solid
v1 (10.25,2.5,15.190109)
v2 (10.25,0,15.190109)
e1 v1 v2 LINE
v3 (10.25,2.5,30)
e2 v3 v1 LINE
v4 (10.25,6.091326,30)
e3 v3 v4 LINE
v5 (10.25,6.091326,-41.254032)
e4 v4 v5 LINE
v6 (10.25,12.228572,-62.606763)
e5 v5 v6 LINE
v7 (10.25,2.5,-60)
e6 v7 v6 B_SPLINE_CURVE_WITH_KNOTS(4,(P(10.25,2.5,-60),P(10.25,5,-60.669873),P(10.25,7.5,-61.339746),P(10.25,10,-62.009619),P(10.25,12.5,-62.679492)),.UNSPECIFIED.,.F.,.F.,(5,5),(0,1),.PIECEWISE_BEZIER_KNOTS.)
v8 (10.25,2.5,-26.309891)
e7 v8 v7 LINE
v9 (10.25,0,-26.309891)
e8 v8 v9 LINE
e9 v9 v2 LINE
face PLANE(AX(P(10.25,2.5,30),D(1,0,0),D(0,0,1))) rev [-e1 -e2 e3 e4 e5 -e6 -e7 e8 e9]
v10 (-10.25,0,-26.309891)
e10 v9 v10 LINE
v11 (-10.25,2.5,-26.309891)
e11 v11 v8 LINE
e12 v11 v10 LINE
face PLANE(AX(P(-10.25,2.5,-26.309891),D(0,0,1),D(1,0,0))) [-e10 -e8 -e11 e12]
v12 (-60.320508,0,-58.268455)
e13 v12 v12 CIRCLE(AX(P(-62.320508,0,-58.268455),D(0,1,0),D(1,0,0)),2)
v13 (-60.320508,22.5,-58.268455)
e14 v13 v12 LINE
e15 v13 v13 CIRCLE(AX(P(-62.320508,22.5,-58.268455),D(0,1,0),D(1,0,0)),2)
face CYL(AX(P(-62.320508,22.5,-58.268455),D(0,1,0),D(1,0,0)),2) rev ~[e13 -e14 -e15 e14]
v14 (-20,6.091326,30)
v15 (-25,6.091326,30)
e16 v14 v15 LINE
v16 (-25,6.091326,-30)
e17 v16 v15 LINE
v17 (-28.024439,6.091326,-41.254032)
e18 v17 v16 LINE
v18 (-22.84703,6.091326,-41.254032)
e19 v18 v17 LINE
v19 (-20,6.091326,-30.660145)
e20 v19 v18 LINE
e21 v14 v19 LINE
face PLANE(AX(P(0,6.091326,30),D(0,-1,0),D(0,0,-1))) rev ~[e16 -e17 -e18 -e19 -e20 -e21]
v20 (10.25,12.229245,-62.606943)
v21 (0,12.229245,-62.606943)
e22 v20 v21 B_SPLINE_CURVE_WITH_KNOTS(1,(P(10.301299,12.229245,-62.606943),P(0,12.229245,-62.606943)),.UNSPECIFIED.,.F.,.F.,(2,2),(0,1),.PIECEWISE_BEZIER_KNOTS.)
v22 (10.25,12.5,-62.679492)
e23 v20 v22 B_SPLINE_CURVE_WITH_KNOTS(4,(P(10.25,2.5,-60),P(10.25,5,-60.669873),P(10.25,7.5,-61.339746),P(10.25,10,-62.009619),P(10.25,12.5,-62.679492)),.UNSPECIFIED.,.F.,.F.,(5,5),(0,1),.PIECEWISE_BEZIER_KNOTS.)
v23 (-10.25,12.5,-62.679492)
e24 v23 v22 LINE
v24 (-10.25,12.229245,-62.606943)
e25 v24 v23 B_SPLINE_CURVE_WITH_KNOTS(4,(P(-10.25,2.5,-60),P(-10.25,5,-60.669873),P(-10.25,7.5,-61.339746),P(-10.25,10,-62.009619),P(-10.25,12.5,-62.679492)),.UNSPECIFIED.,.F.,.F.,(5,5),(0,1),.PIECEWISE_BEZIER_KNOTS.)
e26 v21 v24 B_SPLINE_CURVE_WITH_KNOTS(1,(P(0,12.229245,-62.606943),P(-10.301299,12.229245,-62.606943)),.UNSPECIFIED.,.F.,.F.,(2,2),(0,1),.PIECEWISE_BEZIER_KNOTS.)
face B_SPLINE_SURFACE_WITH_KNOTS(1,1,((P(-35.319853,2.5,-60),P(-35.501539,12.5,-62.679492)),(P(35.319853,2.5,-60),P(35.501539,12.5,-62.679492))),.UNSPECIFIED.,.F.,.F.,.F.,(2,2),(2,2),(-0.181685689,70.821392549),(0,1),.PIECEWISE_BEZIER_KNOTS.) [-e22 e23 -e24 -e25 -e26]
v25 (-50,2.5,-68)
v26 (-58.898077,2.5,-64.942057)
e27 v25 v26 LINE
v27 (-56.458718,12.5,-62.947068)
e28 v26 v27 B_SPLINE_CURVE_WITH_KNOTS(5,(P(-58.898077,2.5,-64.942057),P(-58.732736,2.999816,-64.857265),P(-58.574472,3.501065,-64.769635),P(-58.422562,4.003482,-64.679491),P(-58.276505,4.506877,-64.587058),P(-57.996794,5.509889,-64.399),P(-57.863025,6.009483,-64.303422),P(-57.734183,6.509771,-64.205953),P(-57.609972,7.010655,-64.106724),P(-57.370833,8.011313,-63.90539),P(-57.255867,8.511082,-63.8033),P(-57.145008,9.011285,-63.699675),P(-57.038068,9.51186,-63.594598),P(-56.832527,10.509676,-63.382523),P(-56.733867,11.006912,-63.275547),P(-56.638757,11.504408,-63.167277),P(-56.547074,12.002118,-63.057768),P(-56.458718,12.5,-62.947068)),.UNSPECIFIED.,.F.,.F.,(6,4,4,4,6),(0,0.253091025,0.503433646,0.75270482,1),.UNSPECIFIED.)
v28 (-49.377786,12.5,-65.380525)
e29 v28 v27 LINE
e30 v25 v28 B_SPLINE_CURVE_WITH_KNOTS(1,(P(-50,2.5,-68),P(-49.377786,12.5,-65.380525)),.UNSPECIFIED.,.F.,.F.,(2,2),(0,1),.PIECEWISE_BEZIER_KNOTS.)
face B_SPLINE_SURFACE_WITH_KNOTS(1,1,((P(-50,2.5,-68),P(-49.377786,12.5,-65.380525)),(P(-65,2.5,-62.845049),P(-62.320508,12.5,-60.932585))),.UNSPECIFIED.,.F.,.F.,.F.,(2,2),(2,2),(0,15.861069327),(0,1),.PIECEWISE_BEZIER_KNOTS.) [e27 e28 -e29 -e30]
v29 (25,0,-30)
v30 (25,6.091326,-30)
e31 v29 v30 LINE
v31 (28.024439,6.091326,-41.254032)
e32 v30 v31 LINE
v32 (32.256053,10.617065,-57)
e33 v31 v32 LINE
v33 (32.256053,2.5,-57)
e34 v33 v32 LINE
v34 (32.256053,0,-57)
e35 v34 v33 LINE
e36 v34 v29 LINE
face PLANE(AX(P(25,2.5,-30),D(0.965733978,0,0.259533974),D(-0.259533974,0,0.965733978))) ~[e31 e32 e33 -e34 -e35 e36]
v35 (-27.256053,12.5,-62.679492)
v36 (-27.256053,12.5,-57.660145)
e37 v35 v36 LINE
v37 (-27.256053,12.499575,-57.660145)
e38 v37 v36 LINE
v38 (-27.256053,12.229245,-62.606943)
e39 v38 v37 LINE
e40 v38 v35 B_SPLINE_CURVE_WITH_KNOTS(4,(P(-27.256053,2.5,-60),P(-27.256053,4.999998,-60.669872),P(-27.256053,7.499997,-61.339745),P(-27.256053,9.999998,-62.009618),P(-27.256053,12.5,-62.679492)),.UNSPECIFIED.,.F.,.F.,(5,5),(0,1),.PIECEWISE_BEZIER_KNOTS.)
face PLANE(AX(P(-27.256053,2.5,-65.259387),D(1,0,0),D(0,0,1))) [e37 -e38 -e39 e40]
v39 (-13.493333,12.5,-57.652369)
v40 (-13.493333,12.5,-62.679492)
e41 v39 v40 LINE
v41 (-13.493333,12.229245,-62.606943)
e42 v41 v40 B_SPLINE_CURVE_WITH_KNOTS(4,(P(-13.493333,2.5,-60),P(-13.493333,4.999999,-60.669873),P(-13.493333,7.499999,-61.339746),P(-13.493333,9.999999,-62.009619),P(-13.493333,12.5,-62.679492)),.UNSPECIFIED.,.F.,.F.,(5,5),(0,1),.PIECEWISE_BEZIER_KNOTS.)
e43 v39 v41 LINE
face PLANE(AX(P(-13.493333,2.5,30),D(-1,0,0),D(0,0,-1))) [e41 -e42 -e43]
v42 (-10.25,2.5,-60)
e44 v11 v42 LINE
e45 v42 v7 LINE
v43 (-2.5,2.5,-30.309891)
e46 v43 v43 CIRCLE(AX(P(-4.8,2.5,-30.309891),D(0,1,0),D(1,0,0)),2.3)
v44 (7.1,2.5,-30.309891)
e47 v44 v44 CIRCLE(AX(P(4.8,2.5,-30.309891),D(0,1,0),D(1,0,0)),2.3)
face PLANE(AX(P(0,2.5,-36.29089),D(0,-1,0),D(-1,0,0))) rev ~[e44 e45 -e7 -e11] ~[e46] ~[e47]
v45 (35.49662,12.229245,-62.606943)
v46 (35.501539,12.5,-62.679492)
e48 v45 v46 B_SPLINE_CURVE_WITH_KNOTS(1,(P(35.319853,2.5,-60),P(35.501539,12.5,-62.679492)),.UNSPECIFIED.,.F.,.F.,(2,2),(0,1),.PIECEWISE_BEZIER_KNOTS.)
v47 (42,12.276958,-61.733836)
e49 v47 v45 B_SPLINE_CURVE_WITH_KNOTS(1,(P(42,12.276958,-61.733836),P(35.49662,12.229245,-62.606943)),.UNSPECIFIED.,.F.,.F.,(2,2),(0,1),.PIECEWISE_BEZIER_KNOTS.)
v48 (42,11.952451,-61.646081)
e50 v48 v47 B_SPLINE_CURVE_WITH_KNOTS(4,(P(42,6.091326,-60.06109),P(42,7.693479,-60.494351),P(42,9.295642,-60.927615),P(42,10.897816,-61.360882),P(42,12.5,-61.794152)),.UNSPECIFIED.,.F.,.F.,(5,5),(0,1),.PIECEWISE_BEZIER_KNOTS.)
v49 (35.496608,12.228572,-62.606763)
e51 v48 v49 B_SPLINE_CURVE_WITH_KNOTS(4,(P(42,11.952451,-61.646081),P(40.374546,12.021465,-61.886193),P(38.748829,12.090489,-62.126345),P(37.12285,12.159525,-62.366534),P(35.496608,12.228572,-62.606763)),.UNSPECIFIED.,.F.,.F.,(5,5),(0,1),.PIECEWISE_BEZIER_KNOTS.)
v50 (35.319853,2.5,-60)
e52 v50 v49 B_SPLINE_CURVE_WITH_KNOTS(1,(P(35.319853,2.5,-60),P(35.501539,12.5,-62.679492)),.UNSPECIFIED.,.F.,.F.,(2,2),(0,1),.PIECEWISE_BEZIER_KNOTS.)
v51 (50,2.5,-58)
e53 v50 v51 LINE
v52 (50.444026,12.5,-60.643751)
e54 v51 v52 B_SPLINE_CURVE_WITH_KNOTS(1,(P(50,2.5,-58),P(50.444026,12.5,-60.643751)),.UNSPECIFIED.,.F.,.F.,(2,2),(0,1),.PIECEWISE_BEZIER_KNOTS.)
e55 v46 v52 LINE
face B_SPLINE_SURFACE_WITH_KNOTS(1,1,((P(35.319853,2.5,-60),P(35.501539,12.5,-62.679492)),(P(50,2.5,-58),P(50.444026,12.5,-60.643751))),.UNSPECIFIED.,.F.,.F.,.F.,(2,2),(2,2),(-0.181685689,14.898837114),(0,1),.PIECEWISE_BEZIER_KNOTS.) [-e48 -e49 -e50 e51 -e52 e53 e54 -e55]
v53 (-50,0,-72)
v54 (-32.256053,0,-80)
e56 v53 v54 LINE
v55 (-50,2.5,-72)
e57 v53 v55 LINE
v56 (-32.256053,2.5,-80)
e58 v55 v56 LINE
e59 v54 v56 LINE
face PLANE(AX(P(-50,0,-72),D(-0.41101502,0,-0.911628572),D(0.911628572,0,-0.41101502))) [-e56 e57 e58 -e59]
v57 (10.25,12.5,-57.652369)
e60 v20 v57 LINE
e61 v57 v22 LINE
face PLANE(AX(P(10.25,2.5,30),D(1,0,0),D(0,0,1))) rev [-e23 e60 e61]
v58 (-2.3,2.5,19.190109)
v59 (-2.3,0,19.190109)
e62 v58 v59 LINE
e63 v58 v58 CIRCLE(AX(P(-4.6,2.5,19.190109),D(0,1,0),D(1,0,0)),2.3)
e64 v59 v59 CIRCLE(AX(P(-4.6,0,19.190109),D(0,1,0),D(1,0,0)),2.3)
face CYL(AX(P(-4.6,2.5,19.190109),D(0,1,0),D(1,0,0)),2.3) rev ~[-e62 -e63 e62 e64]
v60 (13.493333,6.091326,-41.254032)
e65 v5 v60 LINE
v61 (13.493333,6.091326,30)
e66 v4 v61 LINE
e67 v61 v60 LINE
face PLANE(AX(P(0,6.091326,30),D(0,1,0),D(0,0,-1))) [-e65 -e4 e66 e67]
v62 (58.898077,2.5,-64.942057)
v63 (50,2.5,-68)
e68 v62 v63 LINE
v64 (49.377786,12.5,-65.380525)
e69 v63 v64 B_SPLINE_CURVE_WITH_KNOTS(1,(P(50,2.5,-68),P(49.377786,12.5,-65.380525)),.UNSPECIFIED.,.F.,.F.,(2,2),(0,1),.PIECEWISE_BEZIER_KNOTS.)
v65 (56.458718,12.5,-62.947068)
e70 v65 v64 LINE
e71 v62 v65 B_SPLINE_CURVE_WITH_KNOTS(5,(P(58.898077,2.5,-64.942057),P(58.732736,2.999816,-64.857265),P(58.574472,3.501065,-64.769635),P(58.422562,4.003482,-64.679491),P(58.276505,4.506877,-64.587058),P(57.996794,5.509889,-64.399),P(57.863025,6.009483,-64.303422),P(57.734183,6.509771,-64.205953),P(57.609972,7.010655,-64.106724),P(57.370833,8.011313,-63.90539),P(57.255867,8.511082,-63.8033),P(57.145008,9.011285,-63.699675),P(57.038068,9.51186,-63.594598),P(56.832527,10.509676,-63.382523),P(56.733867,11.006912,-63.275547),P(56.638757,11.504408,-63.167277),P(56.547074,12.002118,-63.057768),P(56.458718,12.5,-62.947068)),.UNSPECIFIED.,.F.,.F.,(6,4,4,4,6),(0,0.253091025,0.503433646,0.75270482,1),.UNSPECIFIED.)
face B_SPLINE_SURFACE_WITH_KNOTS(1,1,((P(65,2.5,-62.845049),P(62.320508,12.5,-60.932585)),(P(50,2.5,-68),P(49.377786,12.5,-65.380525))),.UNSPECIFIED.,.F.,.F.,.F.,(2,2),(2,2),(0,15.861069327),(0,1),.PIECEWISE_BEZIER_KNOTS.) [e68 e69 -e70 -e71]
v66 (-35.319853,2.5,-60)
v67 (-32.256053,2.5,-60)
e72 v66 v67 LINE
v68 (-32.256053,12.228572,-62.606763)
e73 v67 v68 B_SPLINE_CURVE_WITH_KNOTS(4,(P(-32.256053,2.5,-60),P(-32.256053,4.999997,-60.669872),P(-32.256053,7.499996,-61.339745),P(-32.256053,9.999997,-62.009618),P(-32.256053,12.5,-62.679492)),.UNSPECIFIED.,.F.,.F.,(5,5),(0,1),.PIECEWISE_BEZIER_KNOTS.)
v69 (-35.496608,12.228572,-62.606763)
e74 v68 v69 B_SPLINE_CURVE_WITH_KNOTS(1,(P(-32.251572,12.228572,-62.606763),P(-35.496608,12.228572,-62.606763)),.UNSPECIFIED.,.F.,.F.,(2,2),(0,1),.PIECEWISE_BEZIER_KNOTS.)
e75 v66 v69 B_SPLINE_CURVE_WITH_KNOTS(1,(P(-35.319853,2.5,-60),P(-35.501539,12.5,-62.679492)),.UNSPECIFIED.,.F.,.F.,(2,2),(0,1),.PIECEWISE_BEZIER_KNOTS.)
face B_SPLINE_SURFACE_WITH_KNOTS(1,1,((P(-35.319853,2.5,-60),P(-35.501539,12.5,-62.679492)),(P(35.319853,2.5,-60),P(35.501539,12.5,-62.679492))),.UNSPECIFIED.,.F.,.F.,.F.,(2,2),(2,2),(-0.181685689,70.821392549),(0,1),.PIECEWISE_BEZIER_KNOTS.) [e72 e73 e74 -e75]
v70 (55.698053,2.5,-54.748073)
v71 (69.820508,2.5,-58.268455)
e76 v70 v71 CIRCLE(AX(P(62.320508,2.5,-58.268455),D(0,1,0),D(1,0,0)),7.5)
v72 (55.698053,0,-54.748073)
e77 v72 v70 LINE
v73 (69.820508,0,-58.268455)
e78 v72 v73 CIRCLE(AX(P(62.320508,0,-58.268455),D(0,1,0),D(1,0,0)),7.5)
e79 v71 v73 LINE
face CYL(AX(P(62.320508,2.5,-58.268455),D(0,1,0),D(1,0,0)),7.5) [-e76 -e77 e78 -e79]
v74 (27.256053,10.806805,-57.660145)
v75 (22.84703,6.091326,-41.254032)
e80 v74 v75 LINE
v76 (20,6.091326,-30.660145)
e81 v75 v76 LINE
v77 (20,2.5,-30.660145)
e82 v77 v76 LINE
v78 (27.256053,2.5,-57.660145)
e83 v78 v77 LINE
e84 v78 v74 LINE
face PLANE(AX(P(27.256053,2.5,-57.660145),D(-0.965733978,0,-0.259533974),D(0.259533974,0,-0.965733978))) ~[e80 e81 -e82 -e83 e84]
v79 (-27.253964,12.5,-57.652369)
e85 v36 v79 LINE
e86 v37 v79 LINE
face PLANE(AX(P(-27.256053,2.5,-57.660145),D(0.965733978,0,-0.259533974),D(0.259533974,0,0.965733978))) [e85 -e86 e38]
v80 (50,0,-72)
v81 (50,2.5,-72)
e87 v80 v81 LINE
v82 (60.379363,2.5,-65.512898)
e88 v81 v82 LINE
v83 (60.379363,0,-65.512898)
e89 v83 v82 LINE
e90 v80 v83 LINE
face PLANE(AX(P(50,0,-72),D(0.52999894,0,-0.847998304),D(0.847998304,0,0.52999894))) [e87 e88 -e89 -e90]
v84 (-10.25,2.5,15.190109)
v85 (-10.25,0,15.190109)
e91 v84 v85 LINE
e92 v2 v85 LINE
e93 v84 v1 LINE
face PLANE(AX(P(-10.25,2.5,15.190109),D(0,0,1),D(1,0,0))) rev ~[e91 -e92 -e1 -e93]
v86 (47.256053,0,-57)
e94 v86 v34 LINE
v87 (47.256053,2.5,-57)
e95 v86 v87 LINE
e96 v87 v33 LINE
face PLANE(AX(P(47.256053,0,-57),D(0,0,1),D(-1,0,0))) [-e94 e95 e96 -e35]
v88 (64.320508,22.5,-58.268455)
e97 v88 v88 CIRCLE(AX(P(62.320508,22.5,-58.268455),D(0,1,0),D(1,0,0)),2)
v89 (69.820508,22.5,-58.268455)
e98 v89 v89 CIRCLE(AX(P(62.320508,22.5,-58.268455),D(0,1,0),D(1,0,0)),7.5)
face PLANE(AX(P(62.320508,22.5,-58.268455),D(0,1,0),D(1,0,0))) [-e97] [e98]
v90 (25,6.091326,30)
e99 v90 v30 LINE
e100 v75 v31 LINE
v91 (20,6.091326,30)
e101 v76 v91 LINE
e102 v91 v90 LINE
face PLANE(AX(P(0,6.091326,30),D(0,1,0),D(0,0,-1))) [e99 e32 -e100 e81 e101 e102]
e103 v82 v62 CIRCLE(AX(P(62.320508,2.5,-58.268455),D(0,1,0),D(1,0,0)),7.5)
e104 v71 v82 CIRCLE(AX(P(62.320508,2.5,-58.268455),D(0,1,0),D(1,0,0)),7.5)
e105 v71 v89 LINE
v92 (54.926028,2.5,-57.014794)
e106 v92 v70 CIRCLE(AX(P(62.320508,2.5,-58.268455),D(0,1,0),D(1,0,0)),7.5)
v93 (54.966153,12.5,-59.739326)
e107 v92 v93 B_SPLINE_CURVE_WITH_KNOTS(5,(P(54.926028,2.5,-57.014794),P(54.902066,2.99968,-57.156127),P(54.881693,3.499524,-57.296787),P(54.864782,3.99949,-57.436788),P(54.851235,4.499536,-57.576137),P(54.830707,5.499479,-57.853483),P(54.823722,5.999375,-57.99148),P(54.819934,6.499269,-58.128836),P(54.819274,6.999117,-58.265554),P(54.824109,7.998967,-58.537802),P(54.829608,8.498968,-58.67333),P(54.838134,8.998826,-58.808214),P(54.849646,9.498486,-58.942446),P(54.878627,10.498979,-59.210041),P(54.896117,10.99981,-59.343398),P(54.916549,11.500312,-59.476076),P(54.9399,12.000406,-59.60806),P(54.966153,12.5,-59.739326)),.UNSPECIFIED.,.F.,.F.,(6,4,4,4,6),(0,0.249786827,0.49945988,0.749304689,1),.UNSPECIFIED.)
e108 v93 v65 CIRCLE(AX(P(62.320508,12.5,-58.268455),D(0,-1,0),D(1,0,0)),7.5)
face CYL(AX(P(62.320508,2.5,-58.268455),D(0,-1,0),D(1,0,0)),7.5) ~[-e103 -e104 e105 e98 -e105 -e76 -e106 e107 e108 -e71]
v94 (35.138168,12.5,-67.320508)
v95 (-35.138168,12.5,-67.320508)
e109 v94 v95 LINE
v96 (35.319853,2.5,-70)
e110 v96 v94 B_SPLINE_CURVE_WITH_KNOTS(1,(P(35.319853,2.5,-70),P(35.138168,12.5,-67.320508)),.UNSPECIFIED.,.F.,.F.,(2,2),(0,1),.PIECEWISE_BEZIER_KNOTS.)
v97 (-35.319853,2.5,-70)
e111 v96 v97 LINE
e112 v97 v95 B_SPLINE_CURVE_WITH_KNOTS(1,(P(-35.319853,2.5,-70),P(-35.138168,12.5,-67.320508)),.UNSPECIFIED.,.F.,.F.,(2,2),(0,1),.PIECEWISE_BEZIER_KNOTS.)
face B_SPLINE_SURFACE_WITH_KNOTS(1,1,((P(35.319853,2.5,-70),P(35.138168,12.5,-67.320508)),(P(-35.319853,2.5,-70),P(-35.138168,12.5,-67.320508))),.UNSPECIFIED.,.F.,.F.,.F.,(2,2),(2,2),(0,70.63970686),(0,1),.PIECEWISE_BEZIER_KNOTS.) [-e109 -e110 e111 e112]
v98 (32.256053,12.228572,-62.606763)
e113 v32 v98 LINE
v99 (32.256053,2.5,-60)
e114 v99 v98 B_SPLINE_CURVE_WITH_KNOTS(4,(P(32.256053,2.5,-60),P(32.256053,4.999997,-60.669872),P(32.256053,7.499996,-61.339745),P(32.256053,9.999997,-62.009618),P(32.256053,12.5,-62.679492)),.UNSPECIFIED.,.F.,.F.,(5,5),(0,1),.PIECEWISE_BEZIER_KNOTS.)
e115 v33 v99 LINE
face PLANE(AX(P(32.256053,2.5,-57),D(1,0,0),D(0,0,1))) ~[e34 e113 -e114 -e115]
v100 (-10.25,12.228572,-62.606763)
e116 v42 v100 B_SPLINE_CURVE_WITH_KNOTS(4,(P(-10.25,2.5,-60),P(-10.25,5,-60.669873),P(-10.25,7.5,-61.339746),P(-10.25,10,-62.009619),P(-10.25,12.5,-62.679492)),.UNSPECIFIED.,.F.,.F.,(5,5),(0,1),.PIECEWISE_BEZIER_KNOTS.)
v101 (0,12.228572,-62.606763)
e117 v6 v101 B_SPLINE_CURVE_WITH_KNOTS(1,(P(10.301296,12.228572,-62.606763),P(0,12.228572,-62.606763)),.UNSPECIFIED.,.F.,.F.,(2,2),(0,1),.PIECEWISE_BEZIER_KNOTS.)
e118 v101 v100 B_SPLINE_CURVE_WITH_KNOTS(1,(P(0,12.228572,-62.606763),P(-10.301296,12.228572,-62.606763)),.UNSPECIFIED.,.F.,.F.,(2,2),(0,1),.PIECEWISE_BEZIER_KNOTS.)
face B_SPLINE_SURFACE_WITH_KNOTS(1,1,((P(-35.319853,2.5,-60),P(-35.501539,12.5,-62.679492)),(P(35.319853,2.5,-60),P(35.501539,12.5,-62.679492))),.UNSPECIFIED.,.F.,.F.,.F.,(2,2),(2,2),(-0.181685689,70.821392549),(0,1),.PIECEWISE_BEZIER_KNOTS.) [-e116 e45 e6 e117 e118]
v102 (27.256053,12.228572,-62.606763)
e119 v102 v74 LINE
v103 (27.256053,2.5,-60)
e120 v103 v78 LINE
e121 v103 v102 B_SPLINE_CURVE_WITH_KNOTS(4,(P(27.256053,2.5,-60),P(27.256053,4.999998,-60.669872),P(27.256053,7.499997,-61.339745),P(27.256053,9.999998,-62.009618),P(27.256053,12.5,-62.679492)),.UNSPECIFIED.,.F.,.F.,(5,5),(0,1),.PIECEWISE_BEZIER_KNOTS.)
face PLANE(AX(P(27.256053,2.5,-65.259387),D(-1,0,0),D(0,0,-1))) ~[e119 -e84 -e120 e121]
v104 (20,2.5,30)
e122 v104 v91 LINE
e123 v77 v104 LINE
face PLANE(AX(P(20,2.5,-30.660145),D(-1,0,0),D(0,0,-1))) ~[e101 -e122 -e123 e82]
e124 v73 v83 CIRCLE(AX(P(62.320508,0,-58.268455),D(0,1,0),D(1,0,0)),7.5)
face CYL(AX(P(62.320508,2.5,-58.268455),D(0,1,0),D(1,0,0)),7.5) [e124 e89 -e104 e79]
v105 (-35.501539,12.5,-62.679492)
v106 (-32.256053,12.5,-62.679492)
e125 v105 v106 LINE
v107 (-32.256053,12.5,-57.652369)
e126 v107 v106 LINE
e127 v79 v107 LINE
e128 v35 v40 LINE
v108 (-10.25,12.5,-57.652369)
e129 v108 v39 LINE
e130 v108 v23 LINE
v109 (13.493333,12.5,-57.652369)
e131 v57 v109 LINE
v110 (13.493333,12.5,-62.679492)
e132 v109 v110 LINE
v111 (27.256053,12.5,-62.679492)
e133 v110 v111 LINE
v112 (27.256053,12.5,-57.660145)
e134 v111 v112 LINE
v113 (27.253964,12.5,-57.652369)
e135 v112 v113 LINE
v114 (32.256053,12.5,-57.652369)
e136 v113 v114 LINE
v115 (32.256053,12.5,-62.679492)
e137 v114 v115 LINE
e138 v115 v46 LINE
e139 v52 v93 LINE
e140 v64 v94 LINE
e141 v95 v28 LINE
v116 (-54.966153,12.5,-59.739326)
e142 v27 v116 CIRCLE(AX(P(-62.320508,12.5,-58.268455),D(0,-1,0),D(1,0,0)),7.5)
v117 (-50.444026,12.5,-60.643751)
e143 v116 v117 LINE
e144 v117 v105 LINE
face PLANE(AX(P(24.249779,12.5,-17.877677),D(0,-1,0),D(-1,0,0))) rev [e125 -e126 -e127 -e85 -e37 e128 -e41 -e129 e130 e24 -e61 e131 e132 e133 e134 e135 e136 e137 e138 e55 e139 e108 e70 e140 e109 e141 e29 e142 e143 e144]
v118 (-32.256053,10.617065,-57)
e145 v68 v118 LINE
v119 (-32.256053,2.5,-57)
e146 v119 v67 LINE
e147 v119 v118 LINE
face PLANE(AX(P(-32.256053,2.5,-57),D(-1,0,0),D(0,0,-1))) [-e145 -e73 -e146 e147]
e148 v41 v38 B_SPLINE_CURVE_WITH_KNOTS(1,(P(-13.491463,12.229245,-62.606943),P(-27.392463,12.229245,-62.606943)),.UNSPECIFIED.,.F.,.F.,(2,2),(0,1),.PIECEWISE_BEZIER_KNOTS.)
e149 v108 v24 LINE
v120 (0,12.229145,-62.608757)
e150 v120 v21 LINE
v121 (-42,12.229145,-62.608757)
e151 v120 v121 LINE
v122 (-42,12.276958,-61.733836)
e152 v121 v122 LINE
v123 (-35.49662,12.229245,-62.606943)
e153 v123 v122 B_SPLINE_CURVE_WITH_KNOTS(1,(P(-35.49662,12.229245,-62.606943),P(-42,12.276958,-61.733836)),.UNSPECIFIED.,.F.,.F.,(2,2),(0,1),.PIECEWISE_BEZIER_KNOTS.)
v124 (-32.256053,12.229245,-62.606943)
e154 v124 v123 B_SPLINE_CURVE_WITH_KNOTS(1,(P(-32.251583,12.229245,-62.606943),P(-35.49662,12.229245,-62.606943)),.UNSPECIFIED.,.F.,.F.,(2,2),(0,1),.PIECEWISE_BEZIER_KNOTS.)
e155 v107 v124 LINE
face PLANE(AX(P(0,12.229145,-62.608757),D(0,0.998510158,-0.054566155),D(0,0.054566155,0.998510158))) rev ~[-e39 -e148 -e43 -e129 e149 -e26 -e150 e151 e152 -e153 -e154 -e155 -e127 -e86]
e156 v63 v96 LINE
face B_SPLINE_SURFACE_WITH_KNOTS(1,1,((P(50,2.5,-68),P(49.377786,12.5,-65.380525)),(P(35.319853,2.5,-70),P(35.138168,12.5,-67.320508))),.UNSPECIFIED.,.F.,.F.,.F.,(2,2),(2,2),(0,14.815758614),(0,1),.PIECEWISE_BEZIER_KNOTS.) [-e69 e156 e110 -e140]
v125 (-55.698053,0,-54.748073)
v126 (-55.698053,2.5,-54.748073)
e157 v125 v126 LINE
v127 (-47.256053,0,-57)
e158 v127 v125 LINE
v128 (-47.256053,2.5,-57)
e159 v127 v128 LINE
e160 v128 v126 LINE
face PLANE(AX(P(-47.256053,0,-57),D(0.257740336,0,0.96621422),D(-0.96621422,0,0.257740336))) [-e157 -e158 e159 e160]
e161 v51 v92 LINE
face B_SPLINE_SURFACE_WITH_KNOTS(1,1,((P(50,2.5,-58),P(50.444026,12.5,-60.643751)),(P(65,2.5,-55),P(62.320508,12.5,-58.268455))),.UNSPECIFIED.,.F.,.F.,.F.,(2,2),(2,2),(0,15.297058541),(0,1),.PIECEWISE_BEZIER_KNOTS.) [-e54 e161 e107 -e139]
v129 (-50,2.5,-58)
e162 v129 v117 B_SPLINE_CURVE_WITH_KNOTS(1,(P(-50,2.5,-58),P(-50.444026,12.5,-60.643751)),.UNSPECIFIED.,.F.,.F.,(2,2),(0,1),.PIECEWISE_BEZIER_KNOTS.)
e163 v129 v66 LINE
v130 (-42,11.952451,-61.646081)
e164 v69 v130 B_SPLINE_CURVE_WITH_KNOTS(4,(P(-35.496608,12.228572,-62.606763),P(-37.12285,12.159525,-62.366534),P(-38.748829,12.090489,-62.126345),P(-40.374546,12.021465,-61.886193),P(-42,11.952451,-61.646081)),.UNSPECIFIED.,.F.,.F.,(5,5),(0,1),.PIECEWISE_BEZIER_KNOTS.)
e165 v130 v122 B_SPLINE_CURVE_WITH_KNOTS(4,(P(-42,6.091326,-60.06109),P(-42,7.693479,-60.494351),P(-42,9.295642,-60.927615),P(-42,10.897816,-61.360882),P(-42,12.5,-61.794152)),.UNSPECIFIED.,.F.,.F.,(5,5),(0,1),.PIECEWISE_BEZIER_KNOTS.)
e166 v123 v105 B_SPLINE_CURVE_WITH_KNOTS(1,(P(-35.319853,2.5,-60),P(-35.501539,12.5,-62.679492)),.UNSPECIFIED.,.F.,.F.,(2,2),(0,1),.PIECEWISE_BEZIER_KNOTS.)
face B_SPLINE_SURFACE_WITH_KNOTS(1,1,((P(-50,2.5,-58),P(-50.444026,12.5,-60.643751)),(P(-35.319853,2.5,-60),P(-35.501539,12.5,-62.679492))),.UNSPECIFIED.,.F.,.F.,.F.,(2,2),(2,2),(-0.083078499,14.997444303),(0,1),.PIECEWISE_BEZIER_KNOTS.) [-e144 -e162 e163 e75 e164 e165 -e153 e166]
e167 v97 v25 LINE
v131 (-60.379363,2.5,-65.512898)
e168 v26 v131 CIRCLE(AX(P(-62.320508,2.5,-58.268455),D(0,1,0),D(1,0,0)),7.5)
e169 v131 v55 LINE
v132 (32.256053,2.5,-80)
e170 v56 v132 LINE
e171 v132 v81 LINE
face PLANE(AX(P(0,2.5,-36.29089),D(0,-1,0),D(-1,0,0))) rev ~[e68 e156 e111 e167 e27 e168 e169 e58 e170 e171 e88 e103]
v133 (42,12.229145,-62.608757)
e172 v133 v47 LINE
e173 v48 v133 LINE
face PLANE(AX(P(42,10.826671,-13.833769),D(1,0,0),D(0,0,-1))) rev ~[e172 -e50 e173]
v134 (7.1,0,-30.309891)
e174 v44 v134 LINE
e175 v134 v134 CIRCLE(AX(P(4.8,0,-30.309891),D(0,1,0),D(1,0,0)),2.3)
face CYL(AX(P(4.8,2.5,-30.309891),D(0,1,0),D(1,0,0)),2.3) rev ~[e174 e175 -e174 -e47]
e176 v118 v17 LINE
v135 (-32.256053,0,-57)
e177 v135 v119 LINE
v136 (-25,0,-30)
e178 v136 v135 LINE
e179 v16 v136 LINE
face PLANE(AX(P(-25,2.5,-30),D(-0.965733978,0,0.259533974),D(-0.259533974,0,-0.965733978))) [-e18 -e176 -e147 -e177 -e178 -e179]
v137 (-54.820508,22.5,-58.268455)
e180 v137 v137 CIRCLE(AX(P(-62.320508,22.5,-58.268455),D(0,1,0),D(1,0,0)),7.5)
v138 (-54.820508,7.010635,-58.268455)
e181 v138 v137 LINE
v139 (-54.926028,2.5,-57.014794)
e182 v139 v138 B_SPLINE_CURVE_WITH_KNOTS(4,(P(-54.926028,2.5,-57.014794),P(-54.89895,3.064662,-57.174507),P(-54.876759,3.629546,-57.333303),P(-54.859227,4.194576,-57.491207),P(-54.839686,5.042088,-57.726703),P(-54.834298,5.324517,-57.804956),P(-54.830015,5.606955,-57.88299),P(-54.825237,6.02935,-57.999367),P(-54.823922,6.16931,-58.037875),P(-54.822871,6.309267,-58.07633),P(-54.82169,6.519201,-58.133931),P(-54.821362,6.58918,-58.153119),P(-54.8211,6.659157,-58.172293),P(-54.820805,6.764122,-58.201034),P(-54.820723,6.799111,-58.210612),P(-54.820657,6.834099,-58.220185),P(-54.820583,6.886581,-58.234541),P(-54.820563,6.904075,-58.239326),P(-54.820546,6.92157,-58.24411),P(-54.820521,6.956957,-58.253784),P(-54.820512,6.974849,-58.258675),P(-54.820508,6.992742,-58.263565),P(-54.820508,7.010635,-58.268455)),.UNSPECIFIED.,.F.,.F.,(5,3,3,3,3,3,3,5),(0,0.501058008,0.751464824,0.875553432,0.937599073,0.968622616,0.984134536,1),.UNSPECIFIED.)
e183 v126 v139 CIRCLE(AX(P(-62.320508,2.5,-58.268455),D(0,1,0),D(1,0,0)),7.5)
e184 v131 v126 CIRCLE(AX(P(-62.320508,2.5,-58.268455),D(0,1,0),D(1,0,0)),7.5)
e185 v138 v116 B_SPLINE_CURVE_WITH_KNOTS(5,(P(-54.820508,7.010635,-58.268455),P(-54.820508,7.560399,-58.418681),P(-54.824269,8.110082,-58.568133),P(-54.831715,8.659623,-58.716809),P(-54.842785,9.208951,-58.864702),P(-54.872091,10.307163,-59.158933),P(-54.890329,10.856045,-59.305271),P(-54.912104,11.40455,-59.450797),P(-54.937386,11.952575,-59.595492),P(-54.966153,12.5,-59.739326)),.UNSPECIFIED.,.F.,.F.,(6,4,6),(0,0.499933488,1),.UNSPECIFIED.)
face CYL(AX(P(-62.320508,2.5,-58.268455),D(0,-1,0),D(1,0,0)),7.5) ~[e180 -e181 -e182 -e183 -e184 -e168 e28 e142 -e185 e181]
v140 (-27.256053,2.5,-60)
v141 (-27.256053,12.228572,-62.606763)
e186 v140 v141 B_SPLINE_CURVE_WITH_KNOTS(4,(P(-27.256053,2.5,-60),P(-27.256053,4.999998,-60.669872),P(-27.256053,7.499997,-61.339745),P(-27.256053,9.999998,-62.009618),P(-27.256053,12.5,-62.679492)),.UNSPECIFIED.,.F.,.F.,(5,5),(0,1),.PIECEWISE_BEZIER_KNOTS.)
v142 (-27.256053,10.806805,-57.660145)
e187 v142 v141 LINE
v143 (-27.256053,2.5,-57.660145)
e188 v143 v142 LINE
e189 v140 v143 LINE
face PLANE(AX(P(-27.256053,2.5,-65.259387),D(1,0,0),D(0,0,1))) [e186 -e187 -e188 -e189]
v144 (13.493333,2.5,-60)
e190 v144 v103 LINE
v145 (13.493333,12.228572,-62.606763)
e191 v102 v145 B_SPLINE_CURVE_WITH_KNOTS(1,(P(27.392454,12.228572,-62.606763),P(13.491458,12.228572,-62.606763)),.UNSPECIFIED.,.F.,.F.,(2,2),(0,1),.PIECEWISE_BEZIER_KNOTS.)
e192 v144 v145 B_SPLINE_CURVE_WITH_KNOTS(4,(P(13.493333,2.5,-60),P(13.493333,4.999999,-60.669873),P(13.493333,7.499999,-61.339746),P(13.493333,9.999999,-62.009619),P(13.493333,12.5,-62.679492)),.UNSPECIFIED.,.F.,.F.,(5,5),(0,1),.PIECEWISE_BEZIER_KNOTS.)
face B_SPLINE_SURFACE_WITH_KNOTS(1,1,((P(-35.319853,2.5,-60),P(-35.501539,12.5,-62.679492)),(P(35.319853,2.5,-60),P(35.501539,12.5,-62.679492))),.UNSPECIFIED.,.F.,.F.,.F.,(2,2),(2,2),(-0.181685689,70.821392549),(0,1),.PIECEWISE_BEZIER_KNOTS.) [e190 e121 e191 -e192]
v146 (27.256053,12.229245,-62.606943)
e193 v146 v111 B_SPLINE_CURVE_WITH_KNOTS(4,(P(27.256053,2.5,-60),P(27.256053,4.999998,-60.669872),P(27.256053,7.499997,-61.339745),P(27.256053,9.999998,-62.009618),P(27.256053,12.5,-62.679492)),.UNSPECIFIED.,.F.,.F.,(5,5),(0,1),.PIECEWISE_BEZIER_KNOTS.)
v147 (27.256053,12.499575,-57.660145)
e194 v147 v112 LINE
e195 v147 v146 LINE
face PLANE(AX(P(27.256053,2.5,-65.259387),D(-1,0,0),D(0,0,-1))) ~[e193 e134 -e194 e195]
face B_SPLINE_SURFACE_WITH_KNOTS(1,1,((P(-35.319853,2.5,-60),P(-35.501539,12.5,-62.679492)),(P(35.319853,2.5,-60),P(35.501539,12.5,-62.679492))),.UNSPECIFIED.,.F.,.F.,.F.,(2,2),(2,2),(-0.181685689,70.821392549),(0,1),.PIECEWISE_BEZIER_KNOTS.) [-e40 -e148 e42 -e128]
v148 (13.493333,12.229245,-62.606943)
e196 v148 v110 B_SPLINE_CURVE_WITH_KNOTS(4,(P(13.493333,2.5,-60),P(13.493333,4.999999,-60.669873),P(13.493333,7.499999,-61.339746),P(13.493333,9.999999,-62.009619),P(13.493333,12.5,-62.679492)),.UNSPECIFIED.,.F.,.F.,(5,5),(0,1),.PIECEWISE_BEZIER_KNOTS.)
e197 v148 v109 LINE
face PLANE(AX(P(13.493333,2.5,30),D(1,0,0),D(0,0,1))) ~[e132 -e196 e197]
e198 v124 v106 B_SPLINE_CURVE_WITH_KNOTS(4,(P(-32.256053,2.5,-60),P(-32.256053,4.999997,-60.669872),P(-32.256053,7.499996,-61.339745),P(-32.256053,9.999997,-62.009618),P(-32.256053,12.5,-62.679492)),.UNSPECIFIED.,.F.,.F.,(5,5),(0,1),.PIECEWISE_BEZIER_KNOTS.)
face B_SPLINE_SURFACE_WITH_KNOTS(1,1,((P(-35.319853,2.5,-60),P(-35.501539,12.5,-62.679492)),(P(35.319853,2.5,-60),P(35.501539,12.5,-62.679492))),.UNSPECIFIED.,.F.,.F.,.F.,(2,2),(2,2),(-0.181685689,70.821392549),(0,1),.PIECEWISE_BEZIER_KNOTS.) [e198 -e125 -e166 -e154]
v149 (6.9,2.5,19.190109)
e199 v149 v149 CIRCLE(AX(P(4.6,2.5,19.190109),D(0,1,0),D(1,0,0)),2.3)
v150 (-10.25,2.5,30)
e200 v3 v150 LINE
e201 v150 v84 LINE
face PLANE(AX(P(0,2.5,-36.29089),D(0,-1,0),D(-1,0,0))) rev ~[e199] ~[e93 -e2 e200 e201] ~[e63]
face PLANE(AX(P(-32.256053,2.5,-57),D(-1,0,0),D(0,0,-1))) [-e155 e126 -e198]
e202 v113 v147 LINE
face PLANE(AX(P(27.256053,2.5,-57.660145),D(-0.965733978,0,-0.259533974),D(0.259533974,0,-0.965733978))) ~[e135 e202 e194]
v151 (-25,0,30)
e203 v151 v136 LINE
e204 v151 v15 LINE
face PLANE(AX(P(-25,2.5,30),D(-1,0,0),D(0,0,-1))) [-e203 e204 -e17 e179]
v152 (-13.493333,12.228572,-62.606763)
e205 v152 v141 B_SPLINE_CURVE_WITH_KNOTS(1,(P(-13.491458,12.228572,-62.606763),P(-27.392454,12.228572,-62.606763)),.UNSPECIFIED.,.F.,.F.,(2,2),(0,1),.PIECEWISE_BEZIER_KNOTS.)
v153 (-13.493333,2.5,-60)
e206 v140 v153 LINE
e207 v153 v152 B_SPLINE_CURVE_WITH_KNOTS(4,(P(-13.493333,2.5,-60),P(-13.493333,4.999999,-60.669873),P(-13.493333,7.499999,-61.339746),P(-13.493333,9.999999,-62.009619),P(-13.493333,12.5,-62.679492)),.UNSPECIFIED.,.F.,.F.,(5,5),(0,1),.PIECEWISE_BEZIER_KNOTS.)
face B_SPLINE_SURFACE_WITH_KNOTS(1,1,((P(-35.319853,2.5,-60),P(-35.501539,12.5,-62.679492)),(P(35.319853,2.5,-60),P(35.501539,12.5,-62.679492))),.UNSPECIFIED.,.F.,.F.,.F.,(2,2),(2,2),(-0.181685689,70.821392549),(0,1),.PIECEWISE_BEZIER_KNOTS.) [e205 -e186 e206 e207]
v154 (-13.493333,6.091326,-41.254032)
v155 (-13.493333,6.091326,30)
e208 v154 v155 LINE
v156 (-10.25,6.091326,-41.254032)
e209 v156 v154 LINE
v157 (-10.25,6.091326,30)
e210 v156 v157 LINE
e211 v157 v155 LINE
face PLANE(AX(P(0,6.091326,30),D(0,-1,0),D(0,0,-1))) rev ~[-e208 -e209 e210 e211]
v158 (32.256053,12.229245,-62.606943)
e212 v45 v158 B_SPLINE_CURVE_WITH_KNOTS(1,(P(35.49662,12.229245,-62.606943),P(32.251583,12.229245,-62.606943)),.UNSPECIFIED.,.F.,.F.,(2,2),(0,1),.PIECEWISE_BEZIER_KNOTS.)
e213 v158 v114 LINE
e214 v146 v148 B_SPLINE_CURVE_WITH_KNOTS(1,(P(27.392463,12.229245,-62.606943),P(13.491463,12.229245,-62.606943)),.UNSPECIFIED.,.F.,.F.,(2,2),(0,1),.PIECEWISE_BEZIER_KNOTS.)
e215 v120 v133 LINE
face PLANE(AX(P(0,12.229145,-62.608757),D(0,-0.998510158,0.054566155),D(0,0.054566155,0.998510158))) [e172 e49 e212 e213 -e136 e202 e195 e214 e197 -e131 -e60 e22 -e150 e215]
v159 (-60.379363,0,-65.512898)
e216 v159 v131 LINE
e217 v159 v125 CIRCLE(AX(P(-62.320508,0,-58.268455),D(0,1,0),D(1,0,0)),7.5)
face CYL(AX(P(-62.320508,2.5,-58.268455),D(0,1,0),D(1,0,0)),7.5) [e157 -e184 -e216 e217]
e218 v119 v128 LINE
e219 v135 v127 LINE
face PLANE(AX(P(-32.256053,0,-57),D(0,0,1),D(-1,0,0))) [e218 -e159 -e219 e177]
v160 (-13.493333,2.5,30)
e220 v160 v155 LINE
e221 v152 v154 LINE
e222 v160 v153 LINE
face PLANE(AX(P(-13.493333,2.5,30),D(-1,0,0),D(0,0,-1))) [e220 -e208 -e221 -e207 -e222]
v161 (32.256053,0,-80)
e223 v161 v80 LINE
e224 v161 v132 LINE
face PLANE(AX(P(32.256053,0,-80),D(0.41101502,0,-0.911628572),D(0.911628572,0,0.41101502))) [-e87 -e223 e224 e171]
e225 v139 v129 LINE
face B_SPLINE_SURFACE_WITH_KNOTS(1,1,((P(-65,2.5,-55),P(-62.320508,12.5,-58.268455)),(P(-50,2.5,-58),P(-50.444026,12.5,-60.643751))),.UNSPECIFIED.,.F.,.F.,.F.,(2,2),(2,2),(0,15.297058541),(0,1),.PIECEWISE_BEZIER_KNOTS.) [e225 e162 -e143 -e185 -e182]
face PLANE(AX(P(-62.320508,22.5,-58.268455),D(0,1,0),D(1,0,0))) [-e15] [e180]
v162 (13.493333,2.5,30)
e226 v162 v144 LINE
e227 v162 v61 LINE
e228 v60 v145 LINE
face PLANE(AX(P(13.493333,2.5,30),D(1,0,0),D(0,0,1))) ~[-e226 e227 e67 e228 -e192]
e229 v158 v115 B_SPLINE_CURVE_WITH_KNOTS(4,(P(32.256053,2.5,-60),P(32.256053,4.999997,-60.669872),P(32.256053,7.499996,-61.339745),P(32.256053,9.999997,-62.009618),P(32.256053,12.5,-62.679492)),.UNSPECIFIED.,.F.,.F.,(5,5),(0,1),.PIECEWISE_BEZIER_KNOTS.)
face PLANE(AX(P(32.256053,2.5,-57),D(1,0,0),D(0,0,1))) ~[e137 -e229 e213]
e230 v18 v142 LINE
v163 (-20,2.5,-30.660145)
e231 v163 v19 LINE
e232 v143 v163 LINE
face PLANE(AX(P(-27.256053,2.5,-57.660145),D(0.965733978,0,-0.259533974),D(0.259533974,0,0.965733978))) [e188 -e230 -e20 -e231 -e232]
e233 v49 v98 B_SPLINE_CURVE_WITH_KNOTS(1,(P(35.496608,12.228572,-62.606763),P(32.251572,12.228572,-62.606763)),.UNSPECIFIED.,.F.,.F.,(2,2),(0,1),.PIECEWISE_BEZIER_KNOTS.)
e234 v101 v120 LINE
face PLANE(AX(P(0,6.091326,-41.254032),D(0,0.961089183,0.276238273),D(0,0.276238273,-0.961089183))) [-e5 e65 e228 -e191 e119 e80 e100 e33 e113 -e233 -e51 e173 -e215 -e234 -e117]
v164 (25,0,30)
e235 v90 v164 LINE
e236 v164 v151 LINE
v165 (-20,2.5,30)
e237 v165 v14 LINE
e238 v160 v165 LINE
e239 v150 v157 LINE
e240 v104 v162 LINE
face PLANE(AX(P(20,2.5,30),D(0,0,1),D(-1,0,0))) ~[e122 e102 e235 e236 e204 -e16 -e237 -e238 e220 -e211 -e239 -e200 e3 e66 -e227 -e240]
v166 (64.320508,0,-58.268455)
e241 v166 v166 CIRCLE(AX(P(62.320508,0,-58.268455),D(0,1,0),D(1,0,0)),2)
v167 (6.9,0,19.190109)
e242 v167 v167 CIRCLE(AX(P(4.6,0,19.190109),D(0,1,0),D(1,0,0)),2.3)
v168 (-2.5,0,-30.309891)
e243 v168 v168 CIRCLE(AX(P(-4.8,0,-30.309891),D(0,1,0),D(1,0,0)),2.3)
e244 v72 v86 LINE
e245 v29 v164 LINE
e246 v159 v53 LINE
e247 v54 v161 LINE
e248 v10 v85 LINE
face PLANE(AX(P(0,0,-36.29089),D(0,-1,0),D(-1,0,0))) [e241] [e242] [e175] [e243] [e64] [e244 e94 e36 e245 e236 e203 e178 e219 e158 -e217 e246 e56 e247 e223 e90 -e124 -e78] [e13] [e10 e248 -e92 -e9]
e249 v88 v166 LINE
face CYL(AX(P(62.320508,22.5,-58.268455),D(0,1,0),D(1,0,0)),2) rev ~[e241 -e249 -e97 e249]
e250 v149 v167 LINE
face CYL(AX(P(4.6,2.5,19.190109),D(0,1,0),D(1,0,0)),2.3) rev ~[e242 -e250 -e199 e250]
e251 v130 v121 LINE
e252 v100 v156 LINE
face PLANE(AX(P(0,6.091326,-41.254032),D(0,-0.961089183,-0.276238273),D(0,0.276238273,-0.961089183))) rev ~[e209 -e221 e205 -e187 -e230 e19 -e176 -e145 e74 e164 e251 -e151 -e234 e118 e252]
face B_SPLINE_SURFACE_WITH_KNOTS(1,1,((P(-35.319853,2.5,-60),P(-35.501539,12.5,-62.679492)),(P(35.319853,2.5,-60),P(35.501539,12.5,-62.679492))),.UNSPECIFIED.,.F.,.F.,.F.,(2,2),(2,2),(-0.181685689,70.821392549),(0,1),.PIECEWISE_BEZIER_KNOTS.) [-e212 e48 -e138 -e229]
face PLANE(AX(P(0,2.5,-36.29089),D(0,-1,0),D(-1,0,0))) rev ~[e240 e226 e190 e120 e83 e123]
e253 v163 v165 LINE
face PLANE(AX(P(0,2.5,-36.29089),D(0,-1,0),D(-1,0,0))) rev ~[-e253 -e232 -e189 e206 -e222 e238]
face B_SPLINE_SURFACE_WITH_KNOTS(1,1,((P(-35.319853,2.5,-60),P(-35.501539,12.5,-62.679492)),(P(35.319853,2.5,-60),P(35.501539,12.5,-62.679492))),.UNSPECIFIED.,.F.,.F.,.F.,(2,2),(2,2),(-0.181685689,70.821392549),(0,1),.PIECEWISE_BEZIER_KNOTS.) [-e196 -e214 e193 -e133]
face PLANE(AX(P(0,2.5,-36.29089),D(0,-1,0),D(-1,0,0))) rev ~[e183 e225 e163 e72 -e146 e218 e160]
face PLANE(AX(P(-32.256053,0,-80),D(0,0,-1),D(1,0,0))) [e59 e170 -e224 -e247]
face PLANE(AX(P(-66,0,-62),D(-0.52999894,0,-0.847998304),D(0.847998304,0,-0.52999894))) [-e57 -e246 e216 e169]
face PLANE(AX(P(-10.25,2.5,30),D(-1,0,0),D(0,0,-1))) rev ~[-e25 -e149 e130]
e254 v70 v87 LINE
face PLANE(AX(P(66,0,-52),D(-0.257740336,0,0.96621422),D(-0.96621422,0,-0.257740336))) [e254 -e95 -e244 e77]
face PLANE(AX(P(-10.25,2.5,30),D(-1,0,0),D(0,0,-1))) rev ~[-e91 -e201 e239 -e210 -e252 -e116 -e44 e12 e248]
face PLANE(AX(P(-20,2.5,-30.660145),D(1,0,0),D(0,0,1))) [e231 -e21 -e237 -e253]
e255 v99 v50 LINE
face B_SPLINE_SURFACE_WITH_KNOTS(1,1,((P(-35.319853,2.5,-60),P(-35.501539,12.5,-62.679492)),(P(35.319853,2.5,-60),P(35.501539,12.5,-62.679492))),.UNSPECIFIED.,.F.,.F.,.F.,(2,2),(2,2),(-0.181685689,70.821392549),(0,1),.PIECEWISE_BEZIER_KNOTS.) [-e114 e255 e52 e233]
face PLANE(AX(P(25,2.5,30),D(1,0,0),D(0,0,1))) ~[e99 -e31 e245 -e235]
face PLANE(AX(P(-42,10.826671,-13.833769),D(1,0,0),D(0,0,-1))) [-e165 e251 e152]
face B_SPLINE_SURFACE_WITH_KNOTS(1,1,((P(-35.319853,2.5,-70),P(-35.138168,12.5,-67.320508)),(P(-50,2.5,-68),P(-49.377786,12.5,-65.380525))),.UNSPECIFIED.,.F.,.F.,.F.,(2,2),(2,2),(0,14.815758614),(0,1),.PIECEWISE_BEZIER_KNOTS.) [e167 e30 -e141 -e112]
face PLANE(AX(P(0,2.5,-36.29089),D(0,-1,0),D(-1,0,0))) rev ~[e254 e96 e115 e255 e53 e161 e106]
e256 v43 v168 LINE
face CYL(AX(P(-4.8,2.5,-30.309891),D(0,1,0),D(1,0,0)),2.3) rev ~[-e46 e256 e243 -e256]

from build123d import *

# Parameters (mm, degrees)
BOSS_EXTRUDE1_DEPTH      = 2.5
SKETCH2_W                = 20.5
SKETCH2_H                = 41.5
CUT_EXTRUDE1_DEPTH       = 3.5
SKETCH8_R                = 2.3
CUT_EXTRUDE2_DEPTH       = 3.5
BOSS_EXTRUDE2_DEPTH      = 10
BOSS_EXTRUDE2_TAPER      = 15
SKETCH10_R               = 7.5
BOSS_EXTRUDE3_DEPTH      = 20
BOSS_EXTRUDE3_DEPTH_BACK = 2.5
SKETCH11_R               = 2
CUT_EXTRUDE3_DEPTH       = 23.5
BOSS_EXTRUDE7_DEPTH      = 10
CUT_EXTRUDE4_DEPTH       = 42
CUT_EXTRUDE4_DEPTH_BACK  = 42


with BuildPart() as part:
    # Sketch1 → Boss-Extrude1 (new body)
    with BuildSketch(Plane(origin=(0, 0, 0), x_dir=(1, 0, 0), z_dir=(0, 1, 0))):
        Polygon((-25, 30), (-32.256053395, 57), (-47.256053395, 57), (-66, 52), (-66, 62), (-50, 72), (-32.256053395, 80), (32.256053395, 80), (50, 72), (66, 62), (66, 52), (47.256053395, 57), (32.256053395, 57), (25, 30), (25, -30), (-25, -30), align=None)
    extrude(amount=BOSS_EXTRUDE1_DEPTH)

    # Sketch2 → Cut-Extrude1 (cut, through all)
    with BuildSketch(Plane(origin=(0, 2.5, 0), x_dir=(1, 0, 0), z_dir=(0, 1, 0))):
        with Locations((0, 5.559891181)):
            Rectangle(SKETCH2_W, SKETCH2_H)
    extrude(amount=-CUT_EXTRUDE1_DEPTH, mode=Mode.SUBTRACT)

    # Sketch8 → Cut-Extrude2 (cut, through all)
    with BuildSketch(Plane(origin=(0, 2.5, 0), x_dir=(1, 0, 0), z_dir=(0, 1, 0))):
        with Locations((-4.8, 30.309891181)):
            Circle(SKETCH8_R)
        with Locations((4.8, 30.309891181)):
            Circle(SKETCH8_R)
        with Locations((-4.6, -19.190108819)):
            Circle(SKETCH8_R)
        with Locations((4.6, -19.190108819)):
            Circle(SKETCH8_R)
    extrude(amount=-CUT_EXTRUDE2_DEPTH, mode=Mode.SUBTRACT)

    # Sketch9 → Boss-Extrude2 (add)
    with BuildSketch(Plane(origin=(0, 2.5, 0), x_dir=(1, 0, 0), z_dir=(0, 1, 0))):
        Polygon((-65, 62.845048963), (-65, 55), (-50, 58), (-35.31985343, 60), (35.31985343, 60), (50, 58), (65, 55), (65, 62.845048963), (50, 68), (35.31985343, 70), (-35.31985343, 70), (-50, 68), align=None)
    extrude(amount=BOSS_EXTRUDE2_DEPTH, taper=BOSS_EXTRUDE2_TAPER)

    # Sketch10 → Boss-Extrude3 (add, two sides)
    with BuildSketch(Plane(origin=(0, 2.5, 0), x_dir=(1, 0, 0), z_dir=(0, 1, 0))) as boss_extrude3_sk:
        with Locations((-62.320508076, 58.268454707)):
            Circle(SKETCH10_R)
        with Locations((62.320508076, 58.268454707)):
            Circle(SKETCH10_R)
    extrude(amount=BOSS_EXTRUDE3_DEPTH)
    extrude(boss_extrude3_sk.sketch, amount=-BOSS_EXTRUDE3_DEPTH_BACK)

    # Sketch11 → Cut-Extrude3 (cut, through all)
    with BuildSketch(Plane(origin=(0, 22.5, 0), x_dir=(1, 0, 0), z_dir=(0, 1, 0))):
        with Locations((-62.320508076, 58.268454707)):
            Circle(SKETCH11_R)
        with Locations((62.320508076, 58.268454707)):
            Circle(SKETCH11_R)
    extrude(amount=-CUT_EXTRUDE3_DEPTH, mode=Mode.SUBTRACT)

    # Sketch12 → Boss-Extrude7 (add)
    with BuildSketch(Plane(origin=(0, 2.5, 0), x_dir=(1, 0, 0), z_dir=(0, 1, 0))):
        Polygon((-25, -30), (-25, 30), (-32.256053395, 57), (-32.256053395, 65.259387318), (-27.256053395, 65.259387318), (-27.256053395, 57.660145211), (-20, 30.660145211), (-20, -30), align=None)
        Polygon((-10.25, -15.190108819), (-10.25, -30), (-13.493333109, -30), (-13.493333109, 64.72993517), (-10.25, 64.72993517), (-10.25, 26.309891181), align=None)
    boss_extrude7 = extrude(amount=BOSS_EXTRUDE7_DEPTH)

    # Mirror2: Boss-Extrude7 across plane
    add(boss_extrude7.mirror(Plane(origin=(0, 0, 0), x_dir=(0, 0, 1), z_dir=(1, 0, 0))))

    # Sketch13 → Cut-Extrude4 (cut, two sides)
    with BuildSketch(Plane(origin=(0, 0, 0), x_dir=(0, 0, -1), z_dir=(1, 0, 0))) as cut_extrude4_sk:
        Polygon((-30, 6.091325502), (41.254032245, 6.091325502), (62.608757253, 12.229145442), (-30, 17.289989114), align=None)
    extrude(amount=CUT_EXTRUDE4_DEPTH, mode=Mode.SUBTRACT)
    extrude(cut_extrude4_sk.sketch, amount=-CUT_EXTRUDE4_DEPTH_BACK, mode=Mode.SUBTRACT)


solid = part.part
